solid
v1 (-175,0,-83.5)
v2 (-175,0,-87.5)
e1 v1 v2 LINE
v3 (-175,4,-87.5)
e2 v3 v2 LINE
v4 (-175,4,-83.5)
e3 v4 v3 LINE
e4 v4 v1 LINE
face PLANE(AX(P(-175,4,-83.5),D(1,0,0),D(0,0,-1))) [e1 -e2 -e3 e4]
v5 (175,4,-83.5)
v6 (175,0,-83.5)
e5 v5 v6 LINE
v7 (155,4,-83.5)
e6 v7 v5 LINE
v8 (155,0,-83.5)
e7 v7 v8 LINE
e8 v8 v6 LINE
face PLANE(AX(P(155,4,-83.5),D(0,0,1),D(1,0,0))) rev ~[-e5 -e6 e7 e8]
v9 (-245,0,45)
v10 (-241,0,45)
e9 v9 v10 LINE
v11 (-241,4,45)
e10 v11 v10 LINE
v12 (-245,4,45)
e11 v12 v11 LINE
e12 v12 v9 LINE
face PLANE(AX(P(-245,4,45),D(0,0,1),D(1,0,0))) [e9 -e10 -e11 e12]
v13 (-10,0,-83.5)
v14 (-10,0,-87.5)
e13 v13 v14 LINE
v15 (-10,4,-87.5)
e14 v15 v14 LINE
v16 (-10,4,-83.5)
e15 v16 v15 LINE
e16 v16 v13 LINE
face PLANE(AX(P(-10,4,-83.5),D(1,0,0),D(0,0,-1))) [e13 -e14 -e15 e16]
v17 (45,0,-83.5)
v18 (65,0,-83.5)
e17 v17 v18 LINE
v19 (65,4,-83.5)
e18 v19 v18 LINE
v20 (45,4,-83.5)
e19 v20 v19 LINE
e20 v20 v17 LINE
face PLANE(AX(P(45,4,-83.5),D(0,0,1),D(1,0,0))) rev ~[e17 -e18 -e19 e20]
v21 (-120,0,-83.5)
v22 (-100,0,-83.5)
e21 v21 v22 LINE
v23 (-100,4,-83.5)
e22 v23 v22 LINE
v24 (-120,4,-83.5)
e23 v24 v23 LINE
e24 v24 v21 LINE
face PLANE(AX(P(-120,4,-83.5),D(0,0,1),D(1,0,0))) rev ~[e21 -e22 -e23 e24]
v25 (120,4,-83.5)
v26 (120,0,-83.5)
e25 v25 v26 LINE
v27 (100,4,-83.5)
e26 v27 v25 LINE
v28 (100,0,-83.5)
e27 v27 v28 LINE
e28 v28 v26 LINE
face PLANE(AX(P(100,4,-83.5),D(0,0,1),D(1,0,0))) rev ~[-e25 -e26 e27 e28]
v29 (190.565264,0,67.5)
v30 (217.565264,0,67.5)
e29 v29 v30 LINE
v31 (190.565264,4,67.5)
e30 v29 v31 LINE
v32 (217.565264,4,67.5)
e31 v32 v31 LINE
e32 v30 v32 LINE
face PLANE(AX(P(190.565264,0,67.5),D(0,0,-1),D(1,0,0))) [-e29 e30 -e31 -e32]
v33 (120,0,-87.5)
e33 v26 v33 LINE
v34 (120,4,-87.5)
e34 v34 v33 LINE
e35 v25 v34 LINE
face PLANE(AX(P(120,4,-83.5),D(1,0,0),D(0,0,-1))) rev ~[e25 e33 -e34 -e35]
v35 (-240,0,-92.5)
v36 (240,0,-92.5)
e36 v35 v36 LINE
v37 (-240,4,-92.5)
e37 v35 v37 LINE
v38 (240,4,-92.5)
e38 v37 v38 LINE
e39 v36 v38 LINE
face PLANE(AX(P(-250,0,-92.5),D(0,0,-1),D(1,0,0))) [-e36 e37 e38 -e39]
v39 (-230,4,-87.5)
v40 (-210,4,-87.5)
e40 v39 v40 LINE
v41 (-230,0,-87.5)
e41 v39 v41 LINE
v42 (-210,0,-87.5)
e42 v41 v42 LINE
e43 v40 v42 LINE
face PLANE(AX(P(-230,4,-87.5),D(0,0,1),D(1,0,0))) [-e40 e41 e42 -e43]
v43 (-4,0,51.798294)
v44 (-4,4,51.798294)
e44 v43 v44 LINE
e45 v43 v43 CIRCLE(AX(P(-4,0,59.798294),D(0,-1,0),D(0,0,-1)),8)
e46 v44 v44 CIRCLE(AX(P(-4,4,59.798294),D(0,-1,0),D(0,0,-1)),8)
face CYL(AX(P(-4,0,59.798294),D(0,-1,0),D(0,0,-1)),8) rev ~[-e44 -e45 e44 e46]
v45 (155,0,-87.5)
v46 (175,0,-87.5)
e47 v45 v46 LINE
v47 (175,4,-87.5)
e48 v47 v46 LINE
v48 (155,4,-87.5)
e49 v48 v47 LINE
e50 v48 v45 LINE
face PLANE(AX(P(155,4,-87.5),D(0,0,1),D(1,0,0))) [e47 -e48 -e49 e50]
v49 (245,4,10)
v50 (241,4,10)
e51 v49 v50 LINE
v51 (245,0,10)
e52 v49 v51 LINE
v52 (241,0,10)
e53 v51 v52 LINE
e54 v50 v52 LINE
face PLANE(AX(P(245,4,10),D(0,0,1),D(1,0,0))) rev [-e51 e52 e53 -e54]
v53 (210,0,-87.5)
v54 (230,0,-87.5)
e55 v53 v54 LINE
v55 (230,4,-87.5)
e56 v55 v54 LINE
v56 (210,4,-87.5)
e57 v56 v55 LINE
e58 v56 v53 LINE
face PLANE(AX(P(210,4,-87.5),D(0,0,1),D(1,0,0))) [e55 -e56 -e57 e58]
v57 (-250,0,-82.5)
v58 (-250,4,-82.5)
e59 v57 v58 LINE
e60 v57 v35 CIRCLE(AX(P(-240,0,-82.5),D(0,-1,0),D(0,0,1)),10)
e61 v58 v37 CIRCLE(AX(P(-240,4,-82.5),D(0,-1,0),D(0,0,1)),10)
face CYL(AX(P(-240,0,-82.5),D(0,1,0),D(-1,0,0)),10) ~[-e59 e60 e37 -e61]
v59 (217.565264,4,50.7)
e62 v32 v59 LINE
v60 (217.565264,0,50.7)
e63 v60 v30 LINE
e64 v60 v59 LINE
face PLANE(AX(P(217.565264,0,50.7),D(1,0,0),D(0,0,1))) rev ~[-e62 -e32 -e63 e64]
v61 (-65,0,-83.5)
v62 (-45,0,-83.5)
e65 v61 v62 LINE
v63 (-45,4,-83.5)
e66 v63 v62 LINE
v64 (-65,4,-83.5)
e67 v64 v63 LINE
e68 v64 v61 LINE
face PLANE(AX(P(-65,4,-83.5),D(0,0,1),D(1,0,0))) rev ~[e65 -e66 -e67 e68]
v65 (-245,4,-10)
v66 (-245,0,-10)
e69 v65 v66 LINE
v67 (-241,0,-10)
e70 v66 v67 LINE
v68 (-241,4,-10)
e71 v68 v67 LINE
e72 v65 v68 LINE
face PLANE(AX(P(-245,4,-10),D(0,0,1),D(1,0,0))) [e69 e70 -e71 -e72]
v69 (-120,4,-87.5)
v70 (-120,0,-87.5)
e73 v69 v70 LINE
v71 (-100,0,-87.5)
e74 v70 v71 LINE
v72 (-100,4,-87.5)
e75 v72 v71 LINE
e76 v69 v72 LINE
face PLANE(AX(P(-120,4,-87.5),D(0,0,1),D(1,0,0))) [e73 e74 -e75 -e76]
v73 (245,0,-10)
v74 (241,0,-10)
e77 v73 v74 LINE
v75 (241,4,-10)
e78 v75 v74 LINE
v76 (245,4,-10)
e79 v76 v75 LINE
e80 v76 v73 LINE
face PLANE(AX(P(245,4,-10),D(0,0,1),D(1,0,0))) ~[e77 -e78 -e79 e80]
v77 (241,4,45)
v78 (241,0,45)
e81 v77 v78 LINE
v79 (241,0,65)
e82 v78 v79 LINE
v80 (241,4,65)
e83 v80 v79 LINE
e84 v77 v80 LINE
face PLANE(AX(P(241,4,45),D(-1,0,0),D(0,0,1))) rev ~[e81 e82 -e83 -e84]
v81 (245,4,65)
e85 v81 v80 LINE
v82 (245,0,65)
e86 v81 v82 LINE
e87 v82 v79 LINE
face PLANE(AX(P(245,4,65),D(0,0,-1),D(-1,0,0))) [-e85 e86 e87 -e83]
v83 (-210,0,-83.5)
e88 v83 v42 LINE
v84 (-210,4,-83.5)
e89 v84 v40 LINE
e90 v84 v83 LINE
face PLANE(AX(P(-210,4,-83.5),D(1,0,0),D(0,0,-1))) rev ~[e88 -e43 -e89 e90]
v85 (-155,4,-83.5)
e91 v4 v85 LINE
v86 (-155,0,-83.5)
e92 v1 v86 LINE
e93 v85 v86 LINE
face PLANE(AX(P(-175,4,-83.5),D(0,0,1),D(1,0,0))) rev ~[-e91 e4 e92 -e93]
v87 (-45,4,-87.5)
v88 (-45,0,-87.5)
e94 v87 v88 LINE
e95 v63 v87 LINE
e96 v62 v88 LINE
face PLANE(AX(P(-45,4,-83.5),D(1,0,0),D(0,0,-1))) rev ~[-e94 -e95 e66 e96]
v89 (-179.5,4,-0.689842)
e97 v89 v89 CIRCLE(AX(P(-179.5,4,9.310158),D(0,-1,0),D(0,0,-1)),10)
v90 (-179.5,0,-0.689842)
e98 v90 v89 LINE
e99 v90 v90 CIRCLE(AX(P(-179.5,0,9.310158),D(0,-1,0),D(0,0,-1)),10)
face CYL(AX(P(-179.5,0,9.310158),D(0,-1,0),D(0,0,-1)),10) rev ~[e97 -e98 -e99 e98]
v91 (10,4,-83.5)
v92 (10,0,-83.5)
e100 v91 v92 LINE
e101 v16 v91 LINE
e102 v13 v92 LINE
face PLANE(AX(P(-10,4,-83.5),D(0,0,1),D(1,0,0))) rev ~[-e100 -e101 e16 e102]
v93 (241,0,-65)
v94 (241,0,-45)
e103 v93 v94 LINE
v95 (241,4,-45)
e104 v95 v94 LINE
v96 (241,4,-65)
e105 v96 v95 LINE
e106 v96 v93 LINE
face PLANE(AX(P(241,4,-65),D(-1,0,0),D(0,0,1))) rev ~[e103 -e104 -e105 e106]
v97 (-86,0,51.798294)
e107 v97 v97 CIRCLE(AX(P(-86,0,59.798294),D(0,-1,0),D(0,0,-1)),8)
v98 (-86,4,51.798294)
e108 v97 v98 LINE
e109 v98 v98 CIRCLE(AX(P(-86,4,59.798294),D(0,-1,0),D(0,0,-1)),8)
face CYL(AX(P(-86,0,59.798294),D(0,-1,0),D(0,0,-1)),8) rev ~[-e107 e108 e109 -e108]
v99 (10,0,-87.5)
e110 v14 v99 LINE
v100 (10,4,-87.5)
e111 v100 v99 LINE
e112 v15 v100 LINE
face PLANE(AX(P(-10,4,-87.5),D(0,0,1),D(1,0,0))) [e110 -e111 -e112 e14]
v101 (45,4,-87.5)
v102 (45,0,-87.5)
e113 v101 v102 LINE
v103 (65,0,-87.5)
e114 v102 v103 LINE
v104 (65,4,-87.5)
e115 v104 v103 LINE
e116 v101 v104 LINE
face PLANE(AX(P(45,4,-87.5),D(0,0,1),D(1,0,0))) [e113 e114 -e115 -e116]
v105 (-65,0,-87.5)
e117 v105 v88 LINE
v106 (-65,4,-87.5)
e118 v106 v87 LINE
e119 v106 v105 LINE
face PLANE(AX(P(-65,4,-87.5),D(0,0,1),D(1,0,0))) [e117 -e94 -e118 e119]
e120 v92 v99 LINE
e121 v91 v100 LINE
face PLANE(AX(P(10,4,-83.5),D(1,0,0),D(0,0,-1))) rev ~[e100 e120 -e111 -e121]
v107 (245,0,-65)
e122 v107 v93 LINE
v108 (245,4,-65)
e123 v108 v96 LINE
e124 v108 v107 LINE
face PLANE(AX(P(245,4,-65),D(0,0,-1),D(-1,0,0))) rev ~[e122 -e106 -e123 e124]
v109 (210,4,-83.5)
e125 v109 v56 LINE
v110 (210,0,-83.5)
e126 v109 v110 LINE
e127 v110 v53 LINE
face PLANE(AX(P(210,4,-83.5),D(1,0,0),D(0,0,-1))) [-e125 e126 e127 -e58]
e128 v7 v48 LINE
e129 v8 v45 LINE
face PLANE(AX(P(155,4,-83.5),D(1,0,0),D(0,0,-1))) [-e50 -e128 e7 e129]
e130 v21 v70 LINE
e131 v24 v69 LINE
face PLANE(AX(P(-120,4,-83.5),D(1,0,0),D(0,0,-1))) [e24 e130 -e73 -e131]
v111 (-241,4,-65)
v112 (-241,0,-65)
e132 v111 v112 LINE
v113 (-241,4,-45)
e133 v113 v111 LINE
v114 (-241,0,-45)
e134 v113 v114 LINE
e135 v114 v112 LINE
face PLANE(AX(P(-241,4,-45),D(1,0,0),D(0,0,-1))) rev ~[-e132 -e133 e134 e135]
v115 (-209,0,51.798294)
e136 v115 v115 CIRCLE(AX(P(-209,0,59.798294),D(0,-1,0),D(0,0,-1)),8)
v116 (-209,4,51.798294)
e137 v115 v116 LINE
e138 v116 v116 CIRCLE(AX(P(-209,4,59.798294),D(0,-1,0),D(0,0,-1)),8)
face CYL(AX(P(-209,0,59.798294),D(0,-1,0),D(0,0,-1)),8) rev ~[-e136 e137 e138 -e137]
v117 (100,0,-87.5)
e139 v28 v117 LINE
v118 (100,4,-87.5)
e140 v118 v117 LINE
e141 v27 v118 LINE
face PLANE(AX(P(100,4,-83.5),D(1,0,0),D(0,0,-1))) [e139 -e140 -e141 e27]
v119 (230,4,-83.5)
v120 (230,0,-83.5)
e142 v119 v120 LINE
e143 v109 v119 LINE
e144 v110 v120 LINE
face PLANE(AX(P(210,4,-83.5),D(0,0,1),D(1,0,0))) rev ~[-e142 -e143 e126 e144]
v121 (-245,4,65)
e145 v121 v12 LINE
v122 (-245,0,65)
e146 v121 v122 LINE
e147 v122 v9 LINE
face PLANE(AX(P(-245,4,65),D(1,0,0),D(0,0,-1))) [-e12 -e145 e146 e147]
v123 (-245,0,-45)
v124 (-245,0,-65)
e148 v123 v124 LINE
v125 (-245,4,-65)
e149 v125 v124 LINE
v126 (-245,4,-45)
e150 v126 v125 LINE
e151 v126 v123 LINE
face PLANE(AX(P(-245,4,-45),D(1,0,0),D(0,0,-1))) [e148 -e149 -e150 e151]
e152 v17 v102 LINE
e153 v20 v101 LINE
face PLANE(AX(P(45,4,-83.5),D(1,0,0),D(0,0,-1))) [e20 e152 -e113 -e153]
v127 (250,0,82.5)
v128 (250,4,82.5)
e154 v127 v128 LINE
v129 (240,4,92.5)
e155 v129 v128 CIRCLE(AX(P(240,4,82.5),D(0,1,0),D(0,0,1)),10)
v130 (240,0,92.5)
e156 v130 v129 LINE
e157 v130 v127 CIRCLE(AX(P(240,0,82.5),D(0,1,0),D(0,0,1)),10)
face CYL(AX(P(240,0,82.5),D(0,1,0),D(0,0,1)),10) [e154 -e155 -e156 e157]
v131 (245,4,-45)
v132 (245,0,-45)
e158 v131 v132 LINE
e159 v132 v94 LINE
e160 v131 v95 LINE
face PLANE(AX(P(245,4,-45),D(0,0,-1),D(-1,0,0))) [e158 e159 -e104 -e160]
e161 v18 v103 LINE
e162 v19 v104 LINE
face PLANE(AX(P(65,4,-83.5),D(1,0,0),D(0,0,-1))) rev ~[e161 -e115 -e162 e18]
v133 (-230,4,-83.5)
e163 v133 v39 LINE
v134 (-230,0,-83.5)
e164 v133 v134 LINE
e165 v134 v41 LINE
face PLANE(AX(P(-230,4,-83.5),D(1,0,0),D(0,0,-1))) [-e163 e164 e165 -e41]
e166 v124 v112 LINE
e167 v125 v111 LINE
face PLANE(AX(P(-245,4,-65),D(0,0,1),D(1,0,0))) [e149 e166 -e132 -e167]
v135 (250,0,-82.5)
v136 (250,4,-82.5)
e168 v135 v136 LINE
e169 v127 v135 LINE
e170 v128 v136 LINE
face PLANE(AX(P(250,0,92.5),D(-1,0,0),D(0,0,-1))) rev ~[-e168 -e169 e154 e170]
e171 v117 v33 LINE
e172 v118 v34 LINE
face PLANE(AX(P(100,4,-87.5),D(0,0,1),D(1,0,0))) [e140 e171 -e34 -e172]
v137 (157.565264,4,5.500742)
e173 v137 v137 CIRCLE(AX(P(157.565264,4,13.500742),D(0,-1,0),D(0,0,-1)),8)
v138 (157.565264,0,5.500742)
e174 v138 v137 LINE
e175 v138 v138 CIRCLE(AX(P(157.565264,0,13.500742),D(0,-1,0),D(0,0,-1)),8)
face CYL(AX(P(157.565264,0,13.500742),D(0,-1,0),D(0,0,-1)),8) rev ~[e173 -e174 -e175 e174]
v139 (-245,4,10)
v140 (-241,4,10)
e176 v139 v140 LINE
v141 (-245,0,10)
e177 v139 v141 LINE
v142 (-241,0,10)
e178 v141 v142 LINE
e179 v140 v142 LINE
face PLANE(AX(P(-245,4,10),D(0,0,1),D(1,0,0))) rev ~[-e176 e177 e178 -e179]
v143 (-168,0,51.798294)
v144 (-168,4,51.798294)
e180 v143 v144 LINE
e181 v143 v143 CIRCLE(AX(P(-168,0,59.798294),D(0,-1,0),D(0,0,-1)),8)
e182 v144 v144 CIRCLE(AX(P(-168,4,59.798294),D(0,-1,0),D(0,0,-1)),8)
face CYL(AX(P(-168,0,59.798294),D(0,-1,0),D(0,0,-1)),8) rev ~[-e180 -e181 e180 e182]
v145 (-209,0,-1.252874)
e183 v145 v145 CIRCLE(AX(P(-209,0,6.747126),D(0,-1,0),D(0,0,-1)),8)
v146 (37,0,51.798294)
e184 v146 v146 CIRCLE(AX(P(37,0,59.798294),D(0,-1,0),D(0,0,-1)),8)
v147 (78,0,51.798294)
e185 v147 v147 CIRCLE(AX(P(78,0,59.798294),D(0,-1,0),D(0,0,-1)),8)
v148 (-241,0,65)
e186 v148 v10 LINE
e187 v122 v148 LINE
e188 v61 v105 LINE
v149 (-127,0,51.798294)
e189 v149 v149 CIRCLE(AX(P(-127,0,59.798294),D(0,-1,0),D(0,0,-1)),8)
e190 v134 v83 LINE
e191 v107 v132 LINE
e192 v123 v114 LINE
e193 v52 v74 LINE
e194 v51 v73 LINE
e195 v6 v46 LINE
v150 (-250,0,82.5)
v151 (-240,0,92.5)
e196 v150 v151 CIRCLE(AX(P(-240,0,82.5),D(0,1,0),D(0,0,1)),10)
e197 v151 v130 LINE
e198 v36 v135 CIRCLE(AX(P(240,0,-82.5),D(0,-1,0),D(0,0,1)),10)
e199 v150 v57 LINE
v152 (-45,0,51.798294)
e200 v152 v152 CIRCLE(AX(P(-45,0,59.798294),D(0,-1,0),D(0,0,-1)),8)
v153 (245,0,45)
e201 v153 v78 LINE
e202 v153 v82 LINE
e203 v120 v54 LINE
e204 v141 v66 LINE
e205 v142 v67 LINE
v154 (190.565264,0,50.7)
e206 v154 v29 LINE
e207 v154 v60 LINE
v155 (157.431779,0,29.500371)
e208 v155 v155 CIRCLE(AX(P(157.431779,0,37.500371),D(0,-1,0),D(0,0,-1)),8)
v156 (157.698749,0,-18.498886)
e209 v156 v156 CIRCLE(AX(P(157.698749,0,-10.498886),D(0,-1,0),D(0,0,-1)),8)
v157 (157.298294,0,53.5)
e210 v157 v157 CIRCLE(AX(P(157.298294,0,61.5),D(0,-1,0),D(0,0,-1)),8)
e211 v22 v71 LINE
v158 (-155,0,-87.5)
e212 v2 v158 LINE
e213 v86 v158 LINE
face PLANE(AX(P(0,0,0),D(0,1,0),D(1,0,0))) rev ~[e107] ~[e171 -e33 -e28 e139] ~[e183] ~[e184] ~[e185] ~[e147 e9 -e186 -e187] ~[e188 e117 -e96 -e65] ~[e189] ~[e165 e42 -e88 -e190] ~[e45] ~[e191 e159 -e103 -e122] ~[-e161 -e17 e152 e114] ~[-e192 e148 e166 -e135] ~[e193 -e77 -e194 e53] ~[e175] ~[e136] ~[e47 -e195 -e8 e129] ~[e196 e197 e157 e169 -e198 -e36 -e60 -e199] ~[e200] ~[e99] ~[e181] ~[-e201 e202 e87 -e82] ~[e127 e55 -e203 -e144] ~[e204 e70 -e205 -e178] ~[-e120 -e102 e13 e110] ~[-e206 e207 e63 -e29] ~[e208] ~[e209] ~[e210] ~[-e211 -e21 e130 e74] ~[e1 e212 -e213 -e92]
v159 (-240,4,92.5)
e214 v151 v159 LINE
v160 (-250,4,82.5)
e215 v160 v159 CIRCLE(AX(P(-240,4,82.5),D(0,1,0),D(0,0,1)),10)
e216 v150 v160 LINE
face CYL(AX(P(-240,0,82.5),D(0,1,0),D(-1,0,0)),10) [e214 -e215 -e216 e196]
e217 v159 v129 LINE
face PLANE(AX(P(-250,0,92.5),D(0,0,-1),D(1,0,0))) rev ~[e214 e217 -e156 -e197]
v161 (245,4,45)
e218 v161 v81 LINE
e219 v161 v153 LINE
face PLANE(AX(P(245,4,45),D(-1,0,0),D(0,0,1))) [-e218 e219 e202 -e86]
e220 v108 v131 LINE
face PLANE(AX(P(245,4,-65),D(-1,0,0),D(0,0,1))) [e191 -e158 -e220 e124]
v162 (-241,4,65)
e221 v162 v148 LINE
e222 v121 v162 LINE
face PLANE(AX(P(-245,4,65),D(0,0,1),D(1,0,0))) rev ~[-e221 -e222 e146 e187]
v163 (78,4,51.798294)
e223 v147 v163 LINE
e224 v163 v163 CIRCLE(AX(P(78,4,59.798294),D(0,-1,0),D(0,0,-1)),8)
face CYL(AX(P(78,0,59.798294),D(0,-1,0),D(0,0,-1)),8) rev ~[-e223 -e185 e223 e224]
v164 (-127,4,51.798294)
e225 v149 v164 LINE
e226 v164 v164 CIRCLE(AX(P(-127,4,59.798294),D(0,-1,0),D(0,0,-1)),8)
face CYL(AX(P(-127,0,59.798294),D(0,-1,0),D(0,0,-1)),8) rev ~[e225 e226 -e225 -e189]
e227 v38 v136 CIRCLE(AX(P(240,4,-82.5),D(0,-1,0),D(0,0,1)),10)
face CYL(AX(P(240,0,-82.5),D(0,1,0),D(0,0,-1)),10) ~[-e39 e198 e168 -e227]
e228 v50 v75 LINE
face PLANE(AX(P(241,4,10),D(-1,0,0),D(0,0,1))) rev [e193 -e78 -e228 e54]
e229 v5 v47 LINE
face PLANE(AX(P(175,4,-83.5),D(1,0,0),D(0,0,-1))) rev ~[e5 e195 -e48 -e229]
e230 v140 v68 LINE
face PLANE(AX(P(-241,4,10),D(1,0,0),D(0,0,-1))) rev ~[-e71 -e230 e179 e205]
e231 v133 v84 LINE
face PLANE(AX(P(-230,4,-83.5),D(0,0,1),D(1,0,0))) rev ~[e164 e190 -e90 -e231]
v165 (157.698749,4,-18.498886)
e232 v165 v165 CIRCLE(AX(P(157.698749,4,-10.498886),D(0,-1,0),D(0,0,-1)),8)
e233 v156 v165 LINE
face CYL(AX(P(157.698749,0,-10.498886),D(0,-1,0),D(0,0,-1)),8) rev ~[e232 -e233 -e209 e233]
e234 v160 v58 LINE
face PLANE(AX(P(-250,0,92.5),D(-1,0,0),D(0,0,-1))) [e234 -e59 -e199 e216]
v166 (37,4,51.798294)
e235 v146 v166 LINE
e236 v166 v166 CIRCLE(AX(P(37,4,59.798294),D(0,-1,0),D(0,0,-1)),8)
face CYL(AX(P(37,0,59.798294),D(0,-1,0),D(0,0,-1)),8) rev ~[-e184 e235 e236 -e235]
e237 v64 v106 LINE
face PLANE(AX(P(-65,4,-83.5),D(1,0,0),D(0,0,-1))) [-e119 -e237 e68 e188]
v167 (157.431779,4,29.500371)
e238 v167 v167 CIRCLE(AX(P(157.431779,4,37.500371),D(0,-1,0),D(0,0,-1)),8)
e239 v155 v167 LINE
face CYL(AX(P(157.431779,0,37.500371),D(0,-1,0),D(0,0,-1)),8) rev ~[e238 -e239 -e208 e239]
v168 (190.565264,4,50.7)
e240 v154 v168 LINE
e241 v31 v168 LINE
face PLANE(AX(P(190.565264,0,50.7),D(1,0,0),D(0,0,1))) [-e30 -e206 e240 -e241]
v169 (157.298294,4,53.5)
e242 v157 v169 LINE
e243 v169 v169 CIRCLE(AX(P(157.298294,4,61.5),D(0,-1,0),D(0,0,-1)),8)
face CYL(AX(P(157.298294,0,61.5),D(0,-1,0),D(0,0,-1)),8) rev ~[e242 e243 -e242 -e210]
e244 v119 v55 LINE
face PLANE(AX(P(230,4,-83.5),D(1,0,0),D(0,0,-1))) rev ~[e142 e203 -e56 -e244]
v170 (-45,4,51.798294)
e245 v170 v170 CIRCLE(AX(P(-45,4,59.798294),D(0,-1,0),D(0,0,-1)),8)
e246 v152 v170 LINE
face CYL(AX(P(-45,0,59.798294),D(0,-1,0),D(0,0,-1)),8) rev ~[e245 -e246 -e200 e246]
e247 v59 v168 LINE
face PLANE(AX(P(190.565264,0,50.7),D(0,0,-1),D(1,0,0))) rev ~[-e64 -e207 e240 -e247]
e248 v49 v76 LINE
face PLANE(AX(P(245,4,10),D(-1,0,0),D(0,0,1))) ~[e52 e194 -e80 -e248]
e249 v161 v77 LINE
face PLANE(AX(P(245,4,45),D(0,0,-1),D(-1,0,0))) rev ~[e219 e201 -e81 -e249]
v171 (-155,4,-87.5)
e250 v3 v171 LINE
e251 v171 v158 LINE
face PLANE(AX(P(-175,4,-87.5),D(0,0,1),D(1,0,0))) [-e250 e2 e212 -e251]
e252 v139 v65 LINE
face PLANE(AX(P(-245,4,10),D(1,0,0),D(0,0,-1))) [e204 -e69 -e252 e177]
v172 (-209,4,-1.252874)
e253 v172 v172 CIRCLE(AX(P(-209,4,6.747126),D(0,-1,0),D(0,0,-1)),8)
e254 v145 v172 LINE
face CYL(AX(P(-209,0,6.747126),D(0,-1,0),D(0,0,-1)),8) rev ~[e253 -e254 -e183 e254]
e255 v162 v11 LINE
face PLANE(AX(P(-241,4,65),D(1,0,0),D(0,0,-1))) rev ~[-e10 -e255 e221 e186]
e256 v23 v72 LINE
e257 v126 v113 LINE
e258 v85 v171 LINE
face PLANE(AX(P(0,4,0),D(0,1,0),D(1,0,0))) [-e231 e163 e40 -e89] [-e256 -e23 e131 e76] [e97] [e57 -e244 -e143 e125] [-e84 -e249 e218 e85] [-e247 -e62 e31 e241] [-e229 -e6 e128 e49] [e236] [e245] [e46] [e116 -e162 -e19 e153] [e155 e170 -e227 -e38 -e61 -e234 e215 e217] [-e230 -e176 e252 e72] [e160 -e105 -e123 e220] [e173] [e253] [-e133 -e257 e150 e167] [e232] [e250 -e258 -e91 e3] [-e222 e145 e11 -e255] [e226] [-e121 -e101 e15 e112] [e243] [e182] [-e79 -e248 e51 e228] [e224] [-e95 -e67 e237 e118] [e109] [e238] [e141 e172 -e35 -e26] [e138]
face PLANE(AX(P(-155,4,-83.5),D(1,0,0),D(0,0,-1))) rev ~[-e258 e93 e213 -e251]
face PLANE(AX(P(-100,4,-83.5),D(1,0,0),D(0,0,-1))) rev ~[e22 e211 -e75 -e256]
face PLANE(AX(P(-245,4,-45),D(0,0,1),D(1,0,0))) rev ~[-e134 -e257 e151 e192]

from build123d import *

# Parameters (mm, degrees)
SKETCH2_W                   = 500
SKETCH2_H                   = 185
BASE_DEPTH                  = 4
SKETCH3_W                   = 20
SKETCH3_H                   = 4
TOP_HOLE_DEFINITION_DEPTH   = 267.593792126
TOP_HOLE_PATTERN_COUNT      = 5
TOP_HOLE_PATTERN_PITCH      = 55
TOP_HOLE_PATTERN_COL_COUNT  = 5
TOP_HOLE_PATTERN_COL_PITCH  = 55
SKETCH4_W                   = 4
SKETCH4_H                   = 20
LEFT_HOLE_DEFINITION_DEPTH  = 267.593792126
LEFT_HOLE_PATTERN_COUNT     = 2
LEFT_HOLE_PATTERN_PITCH     = 55
LEFT_HOLE_PATTERN_COL_COUNT = 2
LEFT_HOLE_PATTERN_COL_PITCH = 55
FILLET1_R                   = 10
MIRROR2_COPY_1_SKETCH_W     = 4
MIRROR2_COPY_1_SKETCH_H     = 20
MIRROR2_COPY_1_DEPTH        = 267.593792126
MIRROR2_COPY_2_SKETCH_W     = 4
MIRROR2_COPY_2_SKETCH_H     = 20
MIRROR2_COPY_2_DEPTH        = 267.593792126
SKETCH7_R                   = 8
SKETCH7_R_2                 = 10
CUT_EXTRUDE5_DEPTH          = 267.593792126
SKETCH8_W                   = 27
SKETCH8_H                   = 16.8
CUT_EXTRUDE6_DEPTH          = 267.593792126


with BuildPart() as part:
    # Sketch2 → Base (new body)
    with BuildSketch(Plane(origin=(0, 0, 0), x_dir=(1, 0, 0), z_dir=(0, 1, 0))):
        Rectangle(SKETCH2_W, SKETCH2_H)
    extrude(amount=BASE_DEPTH)

    # Sketch3 → Top Hole Definition (cut, through all)
    with BuildSketch(Plane(origin=(0, 4, 0), x_dir=(1, 0, 0), z_dir=(0, 1, 0))):
        with Locations((0, 85.5)):
            Rectangle(SKETCH3_W, SKETCH3_H)
    top_hole_definition = extrude(amount=-TOP_HOLE_DEFINITION_DEPTH, mode=Mode.SUBTRACT)

    # Top Hole Pattern: Top Hole Definition ×5
    with Locations(*[(-i * TOP_HOLE_PATTERN_PITCH, 0, 0) for i in range(1, TOP_HOLE_PATTERN_COUNT)]):
        add(top_hole_definition, mode=Mode.SUBTRACT)

    # Top Hole Pattern col: Top Hole Definition ×5
    with Locations(*[(i * TOP_HOLE_PATTERN_COL_PITCH, 0, 0) for i in range(1, TOP_HOLE_PATTERN_COL_COUNT)]):
        add(top_hole_definition, mode=Mode.SUBTRACT)

    # Sketch4 → Left Hole Definition (cut, through all)
    with BuildSketch(Plane(origin=(0, 4, 0), x_dir=(1, 0, 0), z_dir=(0, 1, 0))):
        with Locations((-243, 0)):
            Rectangle(SKETCH4_W, SKETCH4_H)
    left_hole_definition = extrude(amount=-LEFT_HOLE_DEFINITION_DEPTH, mode=Mode.SUBTRACT)

    # Left Hole Pattern: Left Hole Definition ×2
    with Locations(*[(0, 0, -i * LEFT_HOLE_PATTERN_PITCH) for i in range(1, LEFT_HOLE_PATTERN_COUNT)]):
        add(left_hole_definition, mode=Mode.SUBTRACT)

    # Left Hole Pattern col: Left Hole Definition ×2
    with Locations(*[(0, 0, i * LEFT_HOLE_PATTERN_COL_PITCH) for i in range(1, LEFT_HOLE_PATTERN_COL_COUNT)]):
        add(left_hole_definition, mode=Mode.SUBTRACT)

    # Fillet1
    fillet1_edges = [part.edges().sort_by_distance(p)[0] for p in [
        (-250, 2, -92.5),
        (250, 2, -92.5),
        (250, 2, 92.5),
        (-250, 2, 92.5),
    ]]
    fillet(fillet1_edges, radius=FILLET1_R)

    # Mirror2: Left Hole Definition across plane
    add(left_hole_definition.mirror(Plane(origin=(0, 0, 0), x_dir=(0, 0, 1), z_dir=(1, 0, 0))), mode=Mode.SUBTRACT)

    # Mirror2 copy 1 sketch → Mirror2 copy 1 (cut, through all)
    with BuildSketch(Plane(origin=(0, 4, -55), x_dir=(-1, 0, 0), z_dir=(0, 1, 0))):
        with Locations((-243, 0)):
            Rectangle(MIRROR2_COPY_1_SKETCH_W, MIRROR2_COPY_1_SKETCH_H)
    extrude(amount=-MIRROR2_COPY_1_DEPTH, mode=Mode.SUBTRACT)

    # Mirror2 copy 2 sketch → Mirror2 copy 2 (cut, through all)
    with BuildSketch(Plane(origin=(0, 4, 55), x_dir=(-1, 0, 0), z_dir=(0, 1, 0))):
        with Locations((-243, 0)):
            Rectangle(MIRROR2_COPY_2_SKETCH_W, MIRROR2_COPY_2_SKETCH_H)
    extrude(amount=-MIRROR2_COPY_2_DEPTH, mode=Mode.SUBTRACT)

    # Sketch7 → Cut-Extrude5 (cut, through all)
    with BuildSketch(Plane.XZ):
        with Locations(Location((-209, 59.798294078, 0), (0, 0, 270))):
            Circle(SKETCH7_R)
        with Locations(Location((-168, 59.798294078, 0), (0, 0, 270))):
            Circle(SKETCH7_R)
        with Locations(Location((-127, 59.798294078, 0), (0, 0, 270))):
            Circle(SKETCH7_R)
        with Locations(Location((-86, 59.798294078, 0), (0, 0, 270))):
            Circle(SKETCH7_R)
        with Locations(Location((-45, 59.798294078, 0), (0, 0, 270))):
            Circle(SKETCH7_R)
        with Locations(Location((-4, 59.798294078, 0), (0, 0, 270))):
            Circle(SKETCH7_R)
        with Locations(Location((37, 59.798294078, 0), (0, 0, 270))):
            Circle(SKETCH7_R)
        with Locations(Location((78, 59.798294078, 0), (0, 0, 270))):
            Circle(SKETCH7_R)
        with Locations(Location((-179.5, 9.310158007, 0), (0, 0, 270))):
            Circle(SKETCH7_R_2)
        with Locations(Location((-209, 6.747125767, 0), (0, 0, 270))):
            Circle(SKETCH7_R)
        with Locations(Location((157.298294078, 61.5, 0), (0, 0, 270))):
            Circle(SKETCH7_R)
        with Locations(Location((157.431778922, 37.500371215, 0), (0, 0, 270))):
            Circle(SKETCH7_R)
        with Locations(Location((157.565263767, 13.500742431, 0), (0, 0, 270))):
            Circle(SKETCH7_R)
        with Locations(Location((157.698748611, -10.498886354, 0), (0, 0, 270))):
            Circle(SKETCH7_R)
    extrude(amount=-CUT_EXTRUDE5_DEPTH, mode=Mode.SUBTRACT)

    # Sketch8 → Cut-Extrude6 (cut, through all)
    with BuildSketch(Plane.XZ):
        with Locations((204.065263766, 59.1)):
            Rectangle(SKETCH8_W, SKETCH8_H)
    extrude(amount=-CUT_EXTRUDE6_DEPTH, mode=Mode.SUBTRACT)


solid = part.part
